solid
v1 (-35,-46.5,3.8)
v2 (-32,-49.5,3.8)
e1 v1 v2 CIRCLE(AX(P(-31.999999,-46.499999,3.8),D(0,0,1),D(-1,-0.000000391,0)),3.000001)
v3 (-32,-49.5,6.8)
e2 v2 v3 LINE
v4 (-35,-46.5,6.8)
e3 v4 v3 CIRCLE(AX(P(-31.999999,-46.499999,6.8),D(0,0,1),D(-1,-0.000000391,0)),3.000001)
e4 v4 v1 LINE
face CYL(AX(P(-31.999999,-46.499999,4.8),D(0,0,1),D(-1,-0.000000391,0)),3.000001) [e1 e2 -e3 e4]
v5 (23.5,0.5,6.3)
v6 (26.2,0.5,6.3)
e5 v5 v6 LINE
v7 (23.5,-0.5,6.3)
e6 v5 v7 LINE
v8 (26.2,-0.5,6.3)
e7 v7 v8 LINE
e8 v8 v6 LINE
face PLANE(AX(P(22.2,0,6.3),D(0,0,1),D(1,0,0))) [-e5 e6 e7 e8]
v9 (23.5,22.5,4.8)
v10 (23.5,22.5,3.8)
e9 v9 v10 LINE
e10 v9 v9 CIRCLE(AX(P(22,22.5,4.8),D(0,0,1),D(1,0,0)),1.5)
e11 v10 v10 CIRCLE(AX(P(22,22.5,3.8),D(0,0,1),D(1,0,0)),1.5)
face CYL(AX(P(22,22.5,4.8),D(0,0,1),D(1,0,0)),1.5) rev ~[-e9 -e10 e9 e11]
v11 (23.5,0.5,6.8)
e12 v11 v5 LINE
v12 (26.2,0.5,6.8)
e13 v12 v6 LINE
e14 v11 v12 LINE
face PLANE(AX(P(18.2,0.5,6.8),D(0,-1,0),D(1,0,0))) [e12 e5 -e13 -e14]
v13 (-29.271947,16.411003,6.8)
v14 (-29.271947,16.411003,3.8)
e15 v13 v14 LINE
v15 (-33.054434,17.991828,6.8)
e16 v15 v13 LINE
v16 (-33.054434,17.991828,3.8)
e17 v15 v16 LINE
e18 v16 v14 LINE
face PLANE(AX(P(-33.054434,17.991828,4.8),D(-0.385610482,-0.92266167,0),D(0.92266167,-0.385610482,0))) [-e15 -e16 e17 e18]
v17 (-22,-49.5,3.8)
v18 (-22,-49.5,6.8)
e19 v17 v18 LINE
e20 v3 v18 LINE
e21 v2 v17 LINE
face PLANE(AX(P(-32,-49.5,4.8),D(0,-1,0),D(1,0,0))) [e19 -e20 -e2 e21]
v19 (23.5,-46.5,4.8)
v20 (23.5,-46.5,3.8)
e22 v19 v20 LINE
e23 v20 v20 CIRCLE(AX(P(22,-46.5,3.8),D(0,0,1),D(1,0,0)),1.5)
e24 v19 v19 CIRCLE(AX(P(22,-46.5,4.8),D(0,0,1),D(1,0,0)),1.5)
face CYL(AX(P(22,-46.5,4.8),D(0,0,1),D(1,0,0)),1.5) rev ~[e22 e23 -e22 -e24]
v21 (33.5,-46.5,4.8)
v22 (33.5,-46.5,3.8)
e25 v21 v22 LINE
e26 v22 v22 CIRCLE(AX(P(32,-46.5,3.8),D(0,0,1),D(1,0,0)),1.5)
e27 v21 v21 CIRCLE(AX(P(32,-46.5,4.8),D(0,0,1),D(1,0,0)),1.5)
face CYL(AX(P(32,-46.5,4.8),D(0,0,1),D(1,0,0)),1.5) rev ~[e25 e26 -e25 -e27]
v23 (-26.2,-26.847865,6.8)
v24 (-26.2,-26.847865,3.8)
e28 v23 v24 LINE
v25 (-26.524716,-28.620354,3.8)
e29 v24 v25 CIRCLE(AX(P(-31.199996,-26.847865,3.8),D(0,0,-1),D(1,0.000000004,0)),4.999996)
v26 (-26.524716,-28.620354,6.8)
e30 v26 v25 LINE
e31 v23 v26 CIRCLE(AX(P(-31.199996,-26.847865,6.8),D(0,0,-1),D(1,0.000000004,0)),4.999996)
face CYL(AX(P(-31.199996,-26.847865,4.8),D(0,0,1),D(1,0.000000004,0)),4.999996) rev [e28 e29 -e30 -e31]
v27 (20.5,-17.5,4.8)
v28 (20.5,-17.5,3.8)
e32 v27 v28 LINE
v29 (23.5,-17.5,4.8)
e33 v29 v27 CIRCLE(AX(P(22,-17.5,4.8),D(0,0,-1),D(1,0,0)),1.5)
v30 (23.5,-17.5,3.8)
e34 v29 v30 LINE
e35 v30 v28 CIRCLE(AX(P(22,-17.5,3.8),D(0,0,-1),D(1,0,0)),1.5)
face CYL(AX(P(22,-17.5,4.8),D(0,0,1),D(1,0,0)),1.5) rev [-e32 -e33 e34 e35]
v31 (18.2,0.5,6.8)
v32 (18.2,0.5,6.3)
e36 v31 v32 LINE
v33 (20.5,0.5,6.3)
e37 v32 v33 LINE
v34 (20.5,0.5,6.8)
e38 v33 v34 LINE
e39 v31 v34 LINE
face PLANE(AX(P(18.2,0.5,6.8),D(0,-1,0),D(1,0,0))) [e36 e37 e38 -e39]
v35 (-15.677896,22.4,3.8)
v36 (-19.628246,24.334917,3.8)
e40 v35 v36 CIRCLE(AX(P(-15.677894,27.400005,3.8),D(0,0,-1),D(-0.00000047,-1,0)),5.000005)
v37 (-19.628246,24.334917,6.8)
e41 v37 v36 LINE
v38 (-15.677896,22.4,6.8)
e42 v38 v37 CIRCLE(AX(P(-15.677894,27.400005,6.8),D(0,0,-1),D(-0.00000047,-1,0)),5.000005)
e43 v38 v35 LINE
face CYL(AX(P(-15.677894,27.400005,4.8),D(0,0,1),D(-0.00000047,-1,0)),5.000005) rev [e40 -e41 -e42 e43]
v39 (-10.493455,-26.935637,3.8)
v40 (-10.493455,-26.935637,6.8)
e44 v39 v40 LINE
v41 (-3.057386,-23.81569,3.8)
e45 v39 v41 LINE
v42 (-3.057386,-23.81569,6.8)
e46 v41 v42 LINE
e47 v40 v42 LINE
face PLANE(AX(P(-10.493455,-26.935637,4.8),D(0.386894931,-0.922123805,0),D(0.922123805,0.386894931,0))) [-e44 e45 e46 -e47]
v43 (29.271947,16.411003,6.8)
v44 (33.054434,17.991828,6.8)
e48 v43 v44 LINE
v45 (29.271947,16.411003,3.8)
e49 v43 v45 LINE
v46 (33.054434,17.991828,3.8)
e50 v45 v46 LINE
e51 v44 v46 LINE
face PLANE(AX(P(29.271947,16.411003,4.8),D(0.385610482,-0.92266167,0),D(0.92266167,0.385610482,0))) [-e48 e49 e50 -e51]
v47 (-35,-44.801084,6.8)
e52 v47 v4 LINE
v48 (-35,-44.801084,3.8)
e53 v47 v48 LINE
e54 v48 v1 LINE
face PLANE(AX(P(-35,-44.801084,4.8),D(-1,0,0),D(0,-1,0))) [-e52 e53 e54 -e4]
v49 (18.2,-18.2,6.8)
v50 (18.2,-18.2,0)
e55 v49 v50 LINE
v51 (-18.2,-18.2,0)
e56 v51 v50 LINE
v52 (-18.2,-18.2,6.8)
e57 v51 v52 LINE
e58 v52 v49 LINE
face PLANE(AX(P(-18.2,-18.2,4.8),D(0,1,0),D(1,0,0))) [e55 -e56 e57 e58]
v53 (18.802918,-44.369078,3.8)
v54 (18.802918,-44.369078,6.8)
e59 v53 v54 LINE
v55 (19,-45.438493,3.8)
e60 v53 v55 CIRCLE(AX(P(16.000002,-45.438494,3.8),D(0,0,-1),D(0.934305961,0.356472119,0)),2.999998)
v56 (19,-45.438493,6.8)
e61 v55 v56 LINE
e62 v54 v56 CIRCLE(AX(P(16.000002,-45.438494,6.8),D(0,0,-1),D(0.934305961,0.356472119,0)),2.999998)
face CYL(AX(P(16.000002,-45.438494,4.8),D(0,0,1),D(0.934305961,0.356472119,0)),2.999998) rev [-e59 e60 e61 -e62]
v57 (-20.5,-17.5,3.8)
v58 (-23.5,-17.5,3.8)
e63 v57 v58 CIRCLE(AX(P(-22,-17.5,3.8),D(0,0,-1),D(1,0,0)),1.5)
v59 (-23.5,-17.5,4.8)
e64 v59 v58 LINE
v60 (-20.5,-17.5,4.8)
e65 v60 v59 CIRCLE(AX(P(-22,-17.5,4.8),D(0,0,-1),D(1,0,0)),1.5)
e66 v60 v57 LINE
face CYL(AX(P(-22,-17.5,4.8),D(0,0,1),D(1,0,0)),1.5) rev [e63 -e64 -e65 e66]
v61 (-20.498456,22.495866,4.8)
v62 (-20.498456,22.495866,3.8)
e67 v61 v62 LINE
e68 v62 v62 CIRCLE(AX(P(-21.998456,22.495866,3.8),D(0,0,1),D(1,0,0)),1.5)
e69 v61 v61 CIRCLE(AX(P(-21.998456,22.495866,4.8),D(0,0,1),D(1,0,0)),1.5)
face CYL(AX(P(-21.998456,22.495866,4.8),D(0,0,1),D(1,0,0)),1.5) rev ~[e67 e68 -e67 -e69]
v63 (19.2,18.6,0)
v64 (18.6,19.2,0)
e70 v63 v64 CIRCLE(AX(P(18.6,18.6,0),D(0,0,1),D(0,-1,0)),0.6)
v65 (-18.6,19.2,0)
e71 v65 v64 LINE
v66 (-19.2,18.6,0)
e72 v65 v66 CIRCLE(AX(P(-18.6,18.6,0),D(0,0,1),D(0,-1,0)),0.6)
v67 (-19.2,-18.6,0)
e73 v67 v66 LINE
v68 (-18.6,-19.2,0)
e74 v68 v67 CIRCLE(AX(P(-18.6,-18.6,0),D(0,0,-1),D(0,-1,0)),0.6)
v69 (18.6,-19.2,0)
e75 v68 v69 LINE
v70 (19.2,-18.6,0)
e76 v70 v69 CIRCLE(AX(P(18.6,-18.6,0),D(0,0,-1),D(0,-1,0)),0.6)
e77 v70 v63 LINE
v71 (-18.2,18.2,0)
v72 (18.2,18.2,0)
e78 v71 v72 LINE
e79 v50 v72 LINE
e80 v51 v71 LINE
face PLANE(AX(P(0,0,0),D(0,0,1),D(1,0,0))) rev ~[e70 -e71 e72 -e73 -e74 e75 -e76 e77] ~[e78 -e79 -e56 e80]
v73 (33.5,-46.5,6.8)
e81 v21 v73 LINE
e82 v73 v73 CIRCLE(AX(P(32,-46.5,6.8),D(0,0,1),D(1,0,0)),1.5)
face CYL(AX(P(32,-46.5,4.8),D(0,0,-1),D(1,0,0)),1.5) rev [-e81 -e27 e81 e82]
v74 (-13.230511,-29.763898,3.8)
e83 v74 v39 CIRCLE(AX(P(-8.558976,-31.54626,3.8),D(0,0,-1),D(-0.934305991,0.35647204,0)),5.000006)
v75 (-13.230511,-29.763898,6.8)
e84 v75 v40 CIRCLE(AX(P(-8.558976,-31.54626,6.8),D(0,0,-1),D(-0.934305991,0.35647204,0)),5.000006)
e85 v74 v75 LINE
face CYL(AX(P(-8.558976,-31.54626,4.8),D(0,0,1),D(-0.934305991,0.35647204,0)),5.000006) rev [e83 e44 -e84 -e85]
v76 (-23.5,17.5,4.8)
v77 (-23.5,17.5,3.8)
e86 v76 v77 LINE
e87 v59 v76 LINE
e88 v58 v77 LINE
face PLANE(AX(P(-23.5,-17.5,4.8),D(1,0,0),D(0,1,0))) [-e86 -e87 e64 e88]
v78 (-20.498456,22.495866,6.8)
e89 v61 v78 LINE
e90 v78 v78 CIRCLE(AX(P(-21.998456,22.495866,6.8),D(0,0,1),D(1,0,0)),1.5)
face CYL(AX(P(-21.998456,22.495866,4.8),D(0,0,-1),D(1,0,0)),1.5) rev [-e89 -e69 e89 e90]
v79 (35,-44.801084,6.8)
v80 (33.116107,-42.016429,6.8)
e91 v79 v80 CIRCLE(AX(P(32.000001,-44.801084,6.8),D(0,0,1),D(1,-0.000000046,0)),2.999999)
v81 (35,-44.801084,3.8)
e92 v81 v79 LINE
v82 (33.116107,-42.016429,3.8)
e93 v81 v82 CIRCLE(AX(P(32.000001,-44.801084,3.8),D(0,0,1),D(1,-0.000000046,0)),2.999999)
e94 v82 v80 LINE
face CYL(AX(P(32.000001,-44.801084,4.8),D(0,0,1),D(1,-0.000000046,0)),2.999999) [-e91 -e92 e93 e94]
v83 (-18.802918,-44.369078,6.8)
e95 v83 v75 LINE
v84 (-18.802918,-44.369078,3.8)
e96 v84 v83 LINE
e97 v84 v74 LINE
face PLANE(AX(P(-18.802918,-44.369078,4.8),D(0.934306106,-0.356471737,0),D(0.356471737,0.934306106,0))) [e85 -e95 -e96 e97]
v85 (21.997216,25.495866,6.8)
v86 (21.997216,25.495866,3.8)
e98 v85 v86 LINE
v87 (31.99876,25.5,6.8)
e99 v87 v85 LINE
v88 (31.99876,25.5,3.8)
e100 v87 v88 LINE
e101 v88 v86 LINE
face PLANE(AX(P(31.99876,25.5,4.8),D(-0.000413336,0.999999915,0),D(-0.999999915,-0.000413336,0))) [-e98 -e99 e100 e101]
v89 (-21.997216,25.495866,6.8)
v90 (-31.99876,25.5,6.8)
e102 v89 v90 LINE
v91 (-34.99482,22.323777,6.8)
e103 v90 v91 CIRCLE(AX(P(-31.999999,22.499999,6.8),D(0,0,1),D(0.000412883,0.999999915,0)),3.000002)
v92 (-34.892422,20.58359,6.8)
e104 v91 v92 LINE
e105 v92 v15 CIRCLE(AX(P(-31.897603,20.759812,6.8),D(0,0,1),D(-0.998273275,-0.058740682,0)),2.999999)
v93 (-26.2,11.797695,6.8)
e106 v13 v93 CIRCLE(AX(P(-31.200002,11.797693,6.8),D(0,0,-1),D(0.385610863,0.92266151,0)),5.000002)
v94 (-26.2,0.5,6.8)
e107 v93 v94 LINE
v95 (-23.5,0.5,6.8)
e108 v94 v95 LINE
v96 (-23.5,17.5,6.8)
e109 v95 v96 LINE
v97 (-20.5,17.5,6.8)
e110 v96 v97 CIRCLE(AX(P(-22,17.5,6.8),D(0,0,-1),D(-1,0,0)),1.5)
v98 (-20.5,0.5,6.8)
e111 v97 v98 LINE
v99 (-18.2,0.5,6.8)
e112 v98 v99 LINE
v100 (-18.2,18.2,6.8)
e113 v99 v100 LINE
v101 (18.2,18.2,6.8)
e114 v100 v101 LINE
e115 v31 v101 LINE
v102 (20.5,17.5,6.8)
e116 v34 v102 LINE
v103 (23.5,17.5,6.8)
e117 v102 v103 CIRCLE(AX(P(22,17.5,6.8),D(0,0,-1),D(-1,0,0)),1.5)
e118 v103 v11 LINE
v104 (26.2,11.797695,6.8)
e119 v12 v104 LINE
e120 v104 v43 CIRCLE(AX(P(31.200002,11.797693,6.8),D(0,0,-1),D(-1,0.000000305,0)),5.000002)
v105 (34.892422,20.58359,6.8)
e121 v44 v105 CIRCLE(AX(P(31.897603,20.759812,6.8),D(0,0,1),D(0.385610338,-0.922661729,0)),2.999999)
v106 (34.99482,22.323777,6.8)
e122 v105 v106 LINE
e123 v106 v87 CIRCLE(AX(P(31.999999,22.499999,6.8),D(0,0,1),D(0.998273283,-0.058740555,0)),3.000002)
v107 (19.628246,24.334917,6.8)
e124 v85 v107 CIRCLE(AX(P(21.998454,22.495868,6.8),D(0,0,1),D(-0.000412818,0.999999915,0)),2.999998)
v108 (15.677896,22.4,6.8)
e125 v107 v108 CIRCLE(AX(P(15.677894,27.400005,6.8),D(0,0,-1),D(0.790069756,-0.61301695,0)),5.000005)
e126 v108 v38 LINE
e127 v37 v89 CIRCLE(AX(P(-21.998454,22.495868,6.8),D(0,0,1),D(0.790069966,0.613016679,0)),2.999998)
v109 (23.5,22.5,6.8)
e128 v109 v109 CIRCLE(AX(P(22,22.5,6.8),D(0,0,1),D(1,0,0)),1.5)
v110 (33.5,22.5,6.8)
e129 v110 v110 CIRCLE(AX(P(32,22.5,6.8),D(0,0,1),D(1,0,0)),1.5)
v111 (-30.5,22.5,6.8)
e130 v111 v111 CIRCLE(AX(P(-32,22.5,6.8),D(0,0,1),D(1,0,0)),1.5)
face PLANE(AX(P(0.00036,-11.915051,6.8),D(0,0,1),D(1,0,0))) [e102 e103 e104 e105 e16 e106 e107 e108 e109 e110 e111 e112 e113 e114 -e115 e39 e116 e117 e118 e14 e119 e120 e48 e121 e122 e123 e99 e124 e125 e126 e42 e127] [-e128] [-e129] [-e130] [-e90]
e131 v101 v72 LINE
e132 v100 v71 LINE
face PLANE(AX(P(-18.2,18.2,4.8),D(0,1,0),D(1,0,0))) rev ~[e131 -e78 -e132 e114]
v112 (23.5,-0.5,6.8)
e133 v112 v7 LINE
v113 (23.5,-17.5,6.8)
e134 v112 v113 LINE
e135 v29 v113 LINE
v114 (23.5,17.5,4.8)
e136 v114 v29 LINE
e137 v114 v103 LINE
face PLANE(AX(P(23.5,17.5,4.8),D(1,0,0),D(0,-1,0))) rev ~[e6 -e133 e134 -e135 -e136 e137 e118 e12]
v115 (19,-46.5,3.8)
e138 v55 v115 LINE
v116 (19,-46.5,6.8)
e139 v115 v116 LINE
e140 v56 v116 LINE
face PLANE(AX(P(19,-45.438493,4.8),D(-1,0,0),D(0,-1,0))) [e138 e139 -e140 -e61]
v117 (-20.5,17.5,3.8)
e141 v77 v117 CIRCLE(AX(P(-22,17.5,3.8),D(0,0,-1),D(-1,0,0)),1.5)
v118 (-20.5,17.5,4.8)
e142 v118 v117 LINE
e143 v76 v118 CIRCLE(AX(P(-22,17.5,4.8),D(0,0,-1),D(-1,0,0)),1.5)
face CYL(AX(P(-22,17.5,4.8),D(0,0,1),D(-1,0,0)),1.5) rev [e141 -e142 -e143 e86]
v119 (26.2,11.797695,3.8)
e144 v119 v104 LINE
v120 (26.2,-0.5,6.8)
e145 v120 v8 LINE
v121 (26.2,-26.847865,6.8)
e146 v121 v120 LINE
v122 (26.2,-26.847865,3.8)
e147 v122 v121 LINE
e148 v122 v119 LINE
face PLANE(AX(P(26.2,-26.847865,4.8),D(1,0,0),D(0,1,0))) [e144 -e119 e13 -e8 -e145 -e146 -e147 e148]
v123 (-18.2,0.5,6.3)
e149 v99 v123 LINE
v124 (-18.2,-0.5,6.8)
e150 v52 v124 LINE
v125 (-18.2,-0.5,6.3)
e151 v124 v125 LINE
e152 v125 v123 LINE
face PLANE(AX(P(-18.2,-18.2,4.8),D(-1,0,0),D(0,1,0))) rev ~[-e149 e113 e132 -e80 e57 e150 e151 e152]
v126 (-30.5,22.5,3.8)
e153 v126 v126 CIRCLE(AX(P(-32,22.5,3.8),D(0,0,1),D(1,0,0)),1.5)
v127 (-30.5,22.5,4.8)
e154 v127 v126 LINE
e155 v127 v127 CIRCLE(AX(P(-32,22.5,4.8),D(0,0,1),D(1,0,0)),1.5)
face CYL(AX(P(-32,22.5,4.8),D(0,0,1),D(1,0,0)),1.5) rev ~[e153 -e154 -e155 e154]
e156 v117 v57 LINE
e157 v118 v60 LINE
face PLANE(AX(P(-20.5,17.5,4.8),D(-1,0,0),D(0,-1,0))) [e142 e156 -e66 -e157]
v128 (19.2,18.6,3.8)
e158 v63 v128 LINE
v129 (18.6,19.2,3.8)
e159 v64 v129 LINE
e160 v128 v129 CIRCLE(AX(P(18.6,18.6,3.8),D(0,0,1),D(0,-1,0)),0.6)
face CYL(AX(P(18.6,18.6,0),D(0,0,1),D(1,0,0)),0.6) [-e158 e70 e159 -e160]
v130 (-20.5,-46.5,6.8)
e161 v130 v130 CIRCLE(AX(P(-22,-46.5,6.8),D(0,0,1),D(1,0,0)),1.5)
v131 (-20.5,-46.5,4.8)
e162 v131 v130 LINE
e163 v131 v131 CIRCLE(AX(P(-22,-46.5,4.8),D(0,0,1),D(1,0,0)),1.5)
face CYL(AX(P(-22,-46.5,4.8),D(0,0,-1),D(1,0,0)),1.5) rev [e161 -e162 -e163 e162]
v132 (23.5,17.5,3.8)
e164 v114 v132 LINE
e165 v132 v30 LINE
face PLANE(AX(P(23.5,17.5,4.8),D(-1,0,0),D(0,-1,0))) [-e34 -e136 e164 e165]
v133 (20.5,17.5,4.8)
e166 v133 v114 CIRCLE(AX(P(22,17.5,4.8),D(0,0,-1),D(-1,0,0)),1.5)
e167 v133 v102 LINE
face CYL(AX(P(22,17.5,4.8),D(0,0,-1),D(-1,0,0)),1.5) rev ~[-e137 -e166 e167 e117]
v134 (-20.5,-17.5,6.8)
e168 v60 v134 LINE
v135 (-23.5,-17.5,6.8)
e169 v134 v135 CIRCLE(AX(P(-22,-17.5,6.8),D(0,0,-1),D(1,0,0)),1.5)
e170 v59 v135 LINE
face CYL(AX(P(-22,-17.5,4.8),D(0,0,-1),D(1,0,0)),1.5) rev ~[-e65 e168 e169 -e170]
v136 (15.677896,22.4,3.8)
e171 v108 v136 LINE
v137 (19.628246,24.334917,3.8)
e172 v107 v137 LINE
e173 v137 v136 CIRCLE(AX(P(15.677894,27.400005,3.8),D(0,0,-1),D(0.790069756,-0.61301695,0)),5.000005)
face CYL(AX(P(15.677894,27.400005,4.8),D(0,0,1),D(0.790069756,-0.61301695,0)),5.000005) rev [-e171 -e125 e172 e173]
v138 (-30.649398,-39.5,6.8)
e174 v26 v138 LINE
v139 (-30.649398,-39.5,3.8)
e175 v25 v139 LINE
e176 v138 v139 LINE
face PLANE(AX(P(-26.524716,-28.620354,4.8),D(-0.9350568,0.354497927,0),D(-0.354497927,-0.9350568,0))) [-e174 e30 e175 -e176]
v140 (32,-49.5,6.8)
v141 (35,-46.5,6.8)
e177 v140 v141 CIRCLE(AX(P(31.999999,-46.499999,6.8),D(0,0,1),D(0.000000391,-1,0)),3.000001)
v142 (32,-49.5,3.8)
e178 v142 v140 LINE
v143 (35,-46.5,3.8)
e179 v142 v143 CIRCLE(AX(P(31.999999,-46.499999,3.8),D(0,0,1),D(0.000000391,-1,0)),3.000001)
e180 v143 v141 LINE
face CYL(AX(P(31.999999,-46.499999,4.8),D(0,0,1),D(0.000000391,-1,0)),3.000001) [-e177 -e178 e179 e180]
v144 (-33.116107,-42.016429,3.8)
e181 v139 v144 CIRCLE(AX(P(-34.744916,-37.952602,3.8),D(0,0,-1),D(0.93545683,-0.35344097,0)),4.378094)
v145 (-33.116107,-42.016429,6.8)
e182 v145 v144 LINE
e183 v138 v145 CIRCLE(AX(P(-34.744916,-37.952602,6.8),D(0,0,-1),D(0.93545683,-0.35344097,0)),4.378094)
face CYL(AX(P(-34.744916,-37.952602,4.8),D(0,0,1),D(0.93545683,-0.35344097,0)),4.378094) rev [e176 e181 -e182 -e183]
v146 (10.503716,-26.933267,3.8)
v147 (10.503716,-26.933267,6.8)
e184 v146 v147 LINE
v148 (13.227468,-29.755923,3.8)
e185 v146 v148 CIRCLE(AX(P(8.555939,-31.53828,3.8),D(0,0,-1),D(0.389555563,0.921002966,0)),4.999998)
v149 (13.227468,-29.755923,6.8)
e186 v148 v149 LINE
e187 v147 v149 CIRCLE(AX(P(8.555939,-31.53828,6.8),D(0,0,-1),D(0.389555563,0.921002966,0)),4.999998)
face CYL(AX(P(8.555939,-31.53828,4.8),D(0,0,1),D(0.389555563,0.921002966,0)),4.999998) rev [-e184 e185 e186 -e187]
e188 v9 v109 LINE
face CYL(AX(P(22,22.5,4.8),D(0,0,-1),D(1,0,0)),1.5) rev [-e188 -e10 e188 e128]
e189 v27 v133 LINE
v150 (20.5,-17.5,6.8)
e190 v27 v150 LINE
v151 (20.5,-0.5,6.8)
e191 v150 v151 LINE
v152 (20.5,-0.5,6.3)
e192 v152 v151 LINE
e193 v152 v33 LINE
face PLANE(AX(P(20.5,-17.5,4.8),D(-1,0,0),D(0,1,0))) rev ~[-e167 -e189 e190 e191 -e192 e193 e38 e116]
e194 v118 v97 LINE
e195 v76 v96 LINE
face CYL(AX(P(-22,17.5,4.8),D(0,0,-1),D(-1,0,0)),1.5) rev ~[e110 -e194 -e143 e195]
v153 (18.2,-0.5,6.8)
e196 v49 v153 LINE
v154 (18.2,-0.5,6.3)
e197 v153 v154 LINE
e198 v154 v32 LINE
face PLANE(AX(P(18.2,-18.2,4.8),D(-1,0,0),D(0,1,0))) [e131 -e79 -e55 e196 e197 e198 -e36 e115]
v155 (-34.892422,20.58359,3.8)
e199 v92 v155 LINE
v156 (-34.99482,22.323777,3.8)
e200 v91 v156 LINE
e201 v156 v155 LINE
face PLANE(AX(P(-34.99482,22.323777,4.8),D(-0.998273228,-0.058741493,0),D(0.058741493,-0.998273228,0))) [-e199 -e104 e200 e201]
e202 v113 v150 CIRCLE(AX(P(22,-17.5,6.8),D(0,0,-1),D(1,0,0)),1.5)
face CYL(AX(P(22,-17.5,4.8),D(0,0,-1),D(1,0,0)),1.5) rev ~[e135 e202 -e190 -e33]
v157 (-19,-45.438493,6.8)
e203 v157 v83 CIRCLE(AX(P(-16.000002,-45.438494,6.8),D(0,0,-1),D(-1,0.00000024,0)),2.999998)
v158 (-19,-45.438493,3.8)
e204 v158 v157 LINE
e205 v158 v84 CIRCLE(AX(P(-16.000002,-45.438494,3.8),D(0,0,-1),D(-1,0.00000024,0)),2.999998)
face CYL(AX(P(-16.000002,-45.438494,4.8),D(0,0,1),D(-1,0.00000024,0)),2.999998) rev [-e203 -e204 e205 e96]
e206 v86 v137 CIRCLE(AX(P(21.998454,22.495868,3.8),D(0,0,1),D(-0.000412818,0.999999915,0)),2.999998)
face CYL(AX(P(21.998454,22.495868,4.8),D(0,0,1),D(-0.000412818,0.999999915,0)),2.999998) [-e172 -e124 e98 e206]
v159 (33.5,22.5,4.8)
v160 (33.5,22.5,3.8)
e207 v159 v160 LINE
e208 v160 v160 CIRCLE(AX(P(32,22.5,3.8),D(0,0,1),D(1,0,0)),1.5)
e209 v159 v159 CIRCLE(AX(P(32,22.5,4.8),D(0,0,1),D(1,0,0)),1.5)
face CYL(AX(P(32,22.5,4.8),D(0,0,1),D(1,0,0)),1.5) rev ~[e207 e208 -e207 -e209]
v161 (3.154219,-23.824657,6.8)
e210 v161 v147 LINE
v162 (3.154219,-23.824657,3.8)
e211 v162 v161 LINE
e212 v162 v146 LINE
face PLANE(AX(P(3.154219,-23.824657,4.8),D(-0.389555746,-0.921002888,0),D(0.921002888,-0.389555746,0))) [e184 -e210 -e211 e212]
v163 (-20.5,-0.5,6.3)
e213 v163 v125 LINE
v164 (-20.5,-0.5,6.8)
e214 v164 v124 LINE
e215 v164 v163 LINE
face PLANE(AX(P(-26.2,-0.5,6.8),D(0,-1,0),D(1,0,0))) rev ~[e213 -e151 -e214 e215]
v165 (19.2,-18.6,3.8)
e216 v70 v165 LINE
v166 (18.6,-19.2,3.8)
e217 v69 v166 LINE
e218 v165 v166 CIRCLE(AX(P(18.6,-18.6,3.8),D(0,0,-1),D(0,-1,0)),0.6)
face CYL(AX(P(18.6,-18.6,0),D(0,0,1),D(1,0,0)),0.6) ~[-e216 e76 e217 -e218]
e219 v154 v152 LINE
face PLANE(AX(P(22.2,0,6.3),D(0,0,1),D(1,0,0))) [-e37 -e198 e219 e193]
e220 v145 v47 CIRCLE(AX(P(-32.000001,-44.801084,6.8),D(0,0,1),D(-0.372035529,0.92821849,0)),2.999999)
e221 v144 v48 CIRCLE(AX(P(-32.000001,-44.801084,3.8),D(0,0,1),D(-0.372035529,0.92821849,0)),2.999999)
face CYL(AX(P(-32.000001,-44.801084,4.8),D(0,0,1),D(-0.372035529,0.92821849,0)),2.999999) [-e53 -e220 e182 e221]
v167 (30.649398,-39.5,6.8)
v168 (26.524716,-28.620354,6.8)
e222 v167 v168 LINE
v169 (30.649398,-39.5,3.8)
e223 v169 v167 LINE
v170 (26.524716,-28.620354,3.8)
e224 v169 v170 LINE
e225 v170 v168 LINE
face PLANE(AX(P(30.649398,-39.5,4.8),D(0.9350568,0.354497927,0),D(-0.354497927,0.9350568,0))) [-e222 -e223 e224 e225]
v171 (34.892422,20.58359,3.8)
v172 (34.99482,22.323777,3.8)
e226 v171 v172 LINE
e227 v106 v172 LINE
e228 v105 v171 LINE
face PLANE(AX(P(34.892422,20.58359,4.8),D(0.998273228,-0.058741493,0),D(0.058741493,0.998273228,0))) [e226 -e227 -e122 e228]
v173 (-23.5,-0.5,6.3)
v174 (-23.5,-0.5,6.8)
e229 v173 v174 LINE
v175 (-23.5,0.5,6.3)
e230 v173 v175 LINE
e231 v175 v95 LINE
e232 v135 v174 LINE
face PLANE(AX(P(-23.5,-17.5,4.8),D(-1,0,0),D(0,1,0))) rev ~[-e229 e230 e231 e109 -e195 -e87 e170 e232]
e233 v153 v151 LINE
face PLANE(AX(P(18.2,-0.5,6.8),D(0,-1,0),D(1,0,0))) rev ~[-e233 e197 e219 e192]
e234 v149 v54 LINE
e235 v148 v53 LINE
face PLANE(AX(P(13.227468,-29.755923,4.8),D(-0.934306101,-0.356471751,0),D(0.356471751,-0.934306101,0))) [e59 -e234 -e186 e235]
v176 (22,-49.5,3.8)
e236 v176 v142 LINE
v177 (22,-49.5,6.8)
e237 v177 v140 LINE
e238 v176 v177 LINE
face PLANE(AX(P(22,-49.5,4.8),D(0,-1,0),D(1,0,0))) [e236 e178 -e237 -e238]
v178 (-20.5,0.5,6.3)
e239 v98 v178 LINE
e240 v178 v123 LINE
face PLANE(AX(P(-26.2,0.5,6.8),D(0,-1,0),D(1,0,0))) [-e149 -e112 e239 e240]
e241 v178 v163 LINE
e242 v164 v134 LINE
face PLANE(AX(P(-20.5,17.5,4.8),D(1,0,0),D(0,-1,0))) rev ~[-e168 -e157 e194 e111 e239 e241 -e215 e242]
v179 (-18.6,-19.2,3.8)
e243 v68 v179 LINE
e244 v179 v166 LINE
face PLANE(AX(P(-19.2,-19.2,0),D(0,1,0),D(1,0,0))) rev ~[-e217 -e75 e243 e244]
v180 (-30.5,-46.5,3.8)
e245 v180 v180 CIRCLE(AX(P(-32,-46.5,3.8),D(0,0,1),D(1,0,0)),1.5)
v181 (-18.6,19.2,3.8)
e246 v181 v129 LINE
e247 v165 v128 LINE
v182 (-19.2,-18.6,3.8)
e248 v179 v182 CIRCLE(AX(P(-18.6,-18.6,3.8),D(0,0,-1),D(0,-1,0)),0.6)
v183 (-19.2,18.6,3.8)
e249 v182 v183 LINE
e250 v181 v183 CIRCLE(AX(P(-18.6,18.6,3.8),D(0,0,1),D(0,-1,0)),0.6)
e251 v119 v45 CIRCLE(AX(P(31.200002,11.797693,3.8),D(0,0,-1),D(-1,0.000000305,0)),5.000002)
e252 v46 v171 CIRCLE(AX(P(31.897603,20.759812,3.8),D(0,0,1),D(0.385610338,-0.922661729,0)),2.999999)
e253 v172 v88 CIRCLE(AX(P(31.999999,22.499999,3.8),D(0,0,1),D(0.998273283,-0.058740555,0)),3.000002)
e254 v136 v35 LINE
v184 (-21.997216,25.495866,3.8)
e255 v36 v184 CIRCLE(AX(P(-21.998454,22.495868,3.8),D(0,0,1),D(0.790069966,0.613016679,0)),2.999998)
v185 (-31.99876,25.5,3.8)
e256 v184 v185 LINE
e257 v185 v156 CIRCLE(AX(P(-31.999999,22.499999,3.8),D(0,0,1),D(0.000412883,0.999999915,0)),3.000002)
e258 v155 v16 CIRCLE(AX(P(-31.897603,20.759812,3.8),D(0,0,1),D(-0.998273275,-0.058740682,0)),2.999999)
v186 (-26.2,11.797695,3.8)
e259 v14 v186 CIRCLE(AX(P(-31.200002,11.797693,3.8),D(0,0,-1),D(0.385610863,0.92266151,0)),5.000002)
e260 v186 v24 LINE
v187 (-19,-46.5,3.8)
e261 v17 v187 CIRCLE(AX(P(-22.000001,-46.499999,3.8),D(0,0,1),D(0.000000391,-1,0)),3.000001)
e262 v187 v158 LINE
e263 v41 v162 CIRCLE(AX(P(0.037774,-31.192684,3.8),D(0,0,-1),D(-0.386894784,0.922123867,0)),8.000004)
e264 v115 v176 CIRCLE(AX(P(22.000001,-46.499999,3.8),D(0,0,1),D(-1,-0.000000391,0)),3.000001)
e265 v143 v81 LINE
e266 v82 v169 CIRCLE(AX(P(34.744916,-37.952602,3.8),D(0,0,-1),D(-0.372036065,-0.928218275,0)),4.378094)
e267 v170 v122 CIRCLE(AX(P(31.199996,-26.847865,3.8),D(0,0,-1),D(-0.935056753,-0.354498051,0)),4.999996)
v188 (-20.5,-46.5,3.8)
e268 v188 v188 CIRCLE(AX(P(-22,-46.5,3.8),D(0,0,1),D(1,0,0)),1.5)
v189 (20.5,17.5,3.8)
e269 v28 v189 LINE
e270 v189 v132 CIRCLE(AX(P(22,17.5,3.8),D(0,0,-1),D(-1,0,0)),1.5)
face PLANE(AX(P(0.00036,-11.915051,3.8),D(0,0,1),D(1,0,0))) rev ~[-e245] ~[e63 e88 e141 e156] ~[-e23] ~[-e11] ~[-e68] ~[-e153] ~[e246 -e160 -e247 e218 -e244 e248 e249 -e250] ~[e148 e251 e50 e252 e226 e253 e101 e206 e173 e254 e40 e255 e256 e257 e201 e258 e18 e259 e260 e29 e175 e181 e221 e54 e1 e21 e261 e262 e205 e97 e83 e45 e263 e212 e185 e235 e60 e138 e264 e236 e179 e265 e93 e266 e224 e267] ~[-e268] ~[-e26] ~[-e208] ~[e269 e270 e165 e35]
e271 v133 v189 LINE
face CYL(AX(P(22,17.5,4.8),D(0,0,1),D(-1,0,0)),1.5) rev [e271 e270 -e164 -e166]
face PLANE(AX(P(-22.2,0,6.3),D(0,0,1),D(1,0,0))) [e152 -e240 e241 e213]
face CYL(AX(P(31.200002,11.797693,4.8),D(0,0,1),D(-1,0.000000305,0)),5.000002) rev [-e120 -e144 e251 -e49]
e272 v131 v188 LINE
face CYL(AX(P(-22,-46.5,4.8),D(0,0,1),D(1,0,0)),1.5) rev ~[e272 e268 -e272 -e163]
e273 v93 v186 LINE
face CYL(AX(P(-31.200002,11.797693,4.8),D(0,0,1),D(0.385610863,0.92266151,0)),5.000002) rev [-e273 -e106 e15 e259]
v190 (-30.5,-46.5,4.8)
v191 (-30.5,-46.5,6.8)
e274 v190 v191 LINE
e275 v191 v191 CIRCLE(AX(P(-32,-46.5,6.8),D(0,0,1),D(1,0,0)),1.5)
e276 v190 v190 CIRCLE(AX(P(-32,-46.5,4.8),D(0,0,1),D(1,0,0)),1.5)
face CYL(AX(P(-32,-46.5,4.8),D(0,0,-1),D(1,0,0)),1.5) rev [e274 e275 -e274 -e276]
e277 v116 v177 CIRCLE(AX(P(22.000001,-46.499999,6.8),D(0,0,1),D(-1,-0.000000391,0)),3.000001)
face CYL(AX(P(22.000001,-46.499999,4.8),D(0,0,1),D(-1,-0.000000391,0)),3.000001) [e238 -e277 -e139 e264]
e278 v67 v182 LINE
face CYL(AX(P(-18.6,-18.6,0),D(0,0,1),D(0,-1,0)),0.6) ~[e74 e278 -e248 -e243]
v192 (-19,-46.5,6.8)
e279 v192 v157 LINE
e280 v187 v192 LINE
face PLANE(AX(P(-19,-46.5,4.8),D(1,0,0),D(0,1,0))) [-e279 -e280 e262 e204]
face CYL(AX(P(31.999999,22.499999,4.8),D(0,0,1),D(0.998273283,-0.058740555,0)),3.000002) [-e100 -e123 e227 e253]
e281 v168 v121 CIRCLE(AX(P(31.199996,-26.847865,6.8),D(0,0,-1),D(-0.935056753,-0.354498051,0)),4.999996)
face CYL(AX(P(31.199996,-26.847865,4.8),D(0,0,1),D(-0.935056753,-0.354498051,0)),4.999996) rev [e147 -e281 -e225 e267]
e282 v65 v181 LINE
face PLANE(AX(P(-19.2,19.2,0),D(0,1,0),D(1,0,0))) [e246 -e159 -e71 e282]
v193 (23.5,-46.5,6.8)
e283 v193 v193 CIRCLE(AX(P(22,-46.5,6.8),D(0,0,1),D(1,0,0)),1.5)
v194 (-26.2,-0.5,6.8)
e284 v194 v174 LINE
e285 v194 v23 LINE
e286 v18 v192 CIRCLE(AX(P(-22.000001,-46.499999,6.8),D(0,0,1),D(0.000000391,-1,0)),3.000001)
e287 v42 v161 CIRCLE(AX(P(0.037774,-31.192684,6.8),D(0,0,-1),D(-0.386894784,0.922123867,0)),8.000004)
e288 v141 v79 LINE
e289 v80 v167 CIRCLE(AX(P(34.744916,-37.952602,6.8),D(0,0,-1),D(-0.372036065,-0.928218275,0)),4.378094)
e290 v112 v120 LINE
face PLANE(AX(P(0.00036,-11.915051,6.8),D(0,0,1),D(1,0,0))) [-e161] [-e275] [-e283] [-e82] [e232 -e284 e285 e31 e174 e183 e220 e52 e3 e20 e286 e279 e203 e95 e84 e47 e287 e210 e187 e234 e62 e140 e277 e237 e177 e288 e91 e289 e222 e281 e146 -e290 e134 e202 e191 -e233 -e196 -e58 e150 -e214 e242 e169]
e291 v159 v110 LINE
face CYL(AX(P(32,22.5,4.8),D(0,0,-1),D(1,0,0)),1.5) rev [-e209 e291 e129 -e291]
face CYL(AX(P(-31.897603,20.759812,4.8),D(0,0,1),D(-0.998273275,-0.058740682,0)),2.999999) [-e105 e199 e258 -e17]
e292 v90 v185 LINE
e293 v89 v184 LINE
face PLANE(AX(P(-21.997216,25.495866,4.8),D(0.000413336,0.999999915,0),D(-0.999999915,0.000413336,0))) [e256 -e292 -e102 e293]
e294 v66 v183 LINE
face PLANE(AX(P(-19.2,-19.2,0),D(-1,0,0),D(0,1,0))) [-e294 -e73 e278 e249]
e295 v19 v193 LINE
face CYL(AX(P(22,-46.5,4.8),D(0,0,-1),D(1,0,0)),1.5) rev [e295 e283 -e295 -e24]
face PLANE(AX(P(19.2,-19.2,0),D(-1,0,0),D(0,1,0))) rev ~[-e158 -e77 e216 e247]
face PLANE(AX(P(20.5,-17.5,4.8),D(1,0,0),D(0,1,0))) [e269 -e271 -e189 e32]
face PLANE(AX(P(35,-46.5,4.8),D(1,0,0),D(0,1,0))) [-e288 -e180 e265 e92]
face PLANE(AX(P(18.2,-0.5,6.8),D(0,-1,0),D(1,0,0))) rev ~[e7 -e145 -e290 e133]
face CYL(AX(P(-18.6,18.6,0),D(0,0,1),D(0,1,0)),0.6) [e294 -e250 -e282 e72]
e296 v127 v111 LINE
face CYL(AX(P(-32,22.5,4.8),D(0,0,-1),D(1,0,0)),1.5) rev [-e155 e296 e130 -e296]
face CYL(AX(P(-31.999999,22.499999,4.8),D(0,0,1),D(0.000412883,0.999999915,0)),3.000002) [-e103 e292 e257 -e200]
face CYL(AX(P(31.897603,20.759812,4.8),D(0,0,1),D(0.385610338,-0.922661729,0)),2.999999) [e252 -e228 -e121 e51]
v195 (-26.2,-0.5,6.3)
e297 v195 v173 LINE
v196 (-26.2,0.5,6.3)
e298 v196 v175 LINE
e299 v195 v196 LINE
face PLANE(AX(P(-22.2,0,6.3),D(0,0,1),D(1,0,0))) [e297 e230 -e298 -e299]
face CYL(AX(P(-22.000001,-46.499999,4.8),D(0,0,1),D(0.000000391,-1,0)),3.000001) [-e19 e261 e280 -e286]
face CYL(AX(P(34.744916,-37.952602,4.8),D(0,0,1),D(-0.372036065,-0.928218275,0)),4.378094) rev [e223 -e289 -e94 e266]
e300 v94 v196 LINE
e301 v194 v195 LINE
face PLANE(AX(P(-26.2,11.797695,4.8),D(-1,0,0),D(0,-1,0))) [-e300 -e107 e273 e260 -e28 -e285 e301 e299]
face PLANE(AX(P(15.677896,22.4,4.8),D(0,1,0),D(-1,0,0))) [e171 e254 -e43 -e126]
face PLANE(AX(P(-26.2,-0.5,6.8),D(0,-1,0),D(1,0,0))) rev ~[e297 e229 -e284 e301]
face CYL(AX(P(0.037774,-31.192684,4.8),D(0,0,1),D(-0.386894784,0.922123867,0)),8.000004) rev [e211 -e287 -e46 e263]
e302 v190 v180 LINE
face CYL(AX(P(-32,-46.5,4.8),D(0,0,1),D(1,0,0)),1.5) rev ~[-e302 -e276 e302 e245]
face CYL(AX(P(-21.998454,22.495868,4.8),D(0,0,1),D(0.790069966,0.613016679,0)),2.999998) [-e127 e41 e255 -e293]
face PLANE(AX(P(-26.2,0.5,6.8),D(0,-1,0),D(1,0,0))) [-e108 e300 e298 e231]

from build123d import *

# Parameters (mm, degrees)
F1_W          = 38.4
F1_H          = 38.4
F1_W_2        = 36.4
F1_H_2        = 36.4
F2_DEPTH      = 4.8
F3_R          = 1.5
F3_W          = 38.4
F3_H          = 38.4
F3_W_2        = 36.4
F3_H_2        = 36.4
F4_DEPTH      = 2
F4_DEPTH_BACK = 1
F5_R          = 0.6
F6_W          = 8
F6_H          = 1
F7_DEPTH      = 0.5


with BuildPart() as f2:
    # F1 (on Top) → F2 (new body)
    with BuildSketch(Plane.XY):
        Rectangle(F1_W, F1_H)
        Rectangle(F1_W_2, F1_H_2, mode=Mode.SUBTRACT)
    extrude(amount=F2_DEPTH)

    # F3 (on face) → F4 (join, two sides)
    with BuildSketch(Plane.XY.offset(4.8)) as f4_sk:
        with BuildLine():
            ThreePointArc((-35, -46.5), (-34.12132, -48.62132), (-32, -49.5))
            Line((-32, -49.5), (-22, -49.5))
            ThreePointArc((-22, -49.5), (-19.87868, -48.62132), (-19, -46.5))
            Line((-19, -46.5), (-19, -45.438493))
            ThreePointArc((-19, -45.438493), (-18.950318, -44.894781), (-18.802918, -44.369078))
            Line((-18.802918, -44.369078), (-13.230511, -29.763898))
            ThreePointArc((-13.230511, -29.763898), (-12.151972, -28.06913), (-10.493455, -26.935637))
            Line((-10.493455, -26.935637), (-3.057386, -23.81569))
            ThreePointArc((-3.057386, -23.81569), (0.049323, -23.192689), (3.154219, -23.824657))
            Line((3.154219, -23.824657), (10.503716, -26.933267))
            ThreePointArc((10.503716, -26.933267), (12.153945, -28.066345), (13.227468, -29.755923))
            Line((13.227468, -29.755923), (18.802918, -44.369078))
            ThreePointArc((18.802918, -44.369078), (18.950318, -44.894781), (19, -45.438493))
            Line((19, -45.438493), (19, -46.5))
            ThreePointArc((19, -46.5), (19.87868, -48.62132), (22, -49.5))
            Line((22, -49.5), (32, -49.5))
            ThreePointArc((32, -49.5), (34.12132, -48.62132), (35, -46.5))
            Line((35, -46.5), (35, -44.801084))
            ThreePointArc((35, -44.801084), (34.484786, -43.120061), (33.116107, -42.016429))
            ThreePointArc((33.116107, -42.016429), (31.618403, -41.017341), (30.649398, -39.5))
            Line((30.649398, -39.5), (26.524716, -28.620354))
            ThreePointArc((26.524716, -28.620354), (26.281849, -27.748859), (26.2, -26.847865))
            Line((26.2, -26.847865), (26.2, 11.797695))
            ThreePointArc((26.2, 11.797695), (27.038254, 14.568952), (29.271947, 16.411003))
            Line((29.271947, 16.411003), (33.054434, 17.991828))
            ThreePointArc((33.054434, 17.991828), (34.344715, 19.024405), (34.892422, 20.58359))
            Line((34.892422, 20.58359), (34.99482, 22.323777))
            ThreePointArc((34.99482, 22.323777), (34.18231, 24.558524), (31.99876, 25.5))
            Line((31.99876, 25.5), (21.997216, 25.495866))
            ThreePointArc((21.997216, 25.495866), (20.678268, 25.189768), (19.628246, 24.334917))
            ThreePointArc((19.628246, 24.334917), (17.87728, 22.90971), (15.677896, 22.4))
            Line((15.677896, 22.4), (-15.677896, 22.4))
            ThreePointArc((-15.677896, 22.4), (-17.87728, 22.90971), (-19.628246, 24.334917))
            ThreePointArc((-19.628246, 24.334917), (-20.678268, 25.189768), (-21.997216, 25.495866))
            Line((-21.997216, 25.495866), (-31.99876, 25.5))
            ThreePointArc((-31.99876, 25.5), (-34.18231, 24.558524), (-34.99482, 22.323777))
            Line((-34.99482, 22.323777), (-34.892422, 20.58359))
            ThreePointArc((-34.892422, 20.58359), (-34.344715, 19.024405), (-33.054434, 17.991828))
            Line((-33.054434, 17.991828), (-29.271947, 16.411003))
            ThreePointArc((-29.271947, 16.411003), (-27.038254, 14.568952), (-26.2, 11.797695))
            Line((-26.2, 11.797695), (-26.2, -26.847865))
            ThreePointArc((-26.2, -26.847865), (-26.281849, -27.748859), (-26.524716, -28.620354))
            Line((-26.524716, -28.620354), (-30.649398, -39.5))
            ThreePointArc((-30.649398, -39.5), (-31.618403, -41.017341), (-33.116107, -42.016429))
            ThreePointArc((-33.116107, -42.016429), (-34.484786, -43.120061), (-35, -44.801084))
            Line((-35, -44.801084), (-35, -46.5))
        make_face()
        with Locations((-32, -46.5)):
            Circle(F3_R, mode=Mode.SUBTRACT)
        with Locations((-22, -46.5)):
            Circle(F3_R, mode=Mode.SUBTRACT)
        with Locations((22, -46.5)):
            Circle(F3_R, mode=Mode.SUBTRACT)
        with Locations((32, -46.5)):
            Circle(F3_R, mode=Mode.SUBTRACT)
        with BuildLine():
            ThreePointArc((-20.5, -17.5), (-22, -19), (-23.5, -17.5))
            Line((-23.5, -17.5), (-23.5, 17.5))
            ThreePointArc((-23.5, 17.5), (-22, 19), (-20.5, 17.5))
            Line((-20.5, 17.5), (-20.5, -17.5))
        make_face(mode=Mode.SUBTRACT)
        with Locations((-32, 22.5)):
            Circle(F3_R, mode=Mode.SUBTRACT)
        with Locations((-21.998456, 22.495866)):
            Circle(F3_R, mode=Mode.SUBTRACT)
        Rectangle(F3_W, F3_H, mode=Mode.SUBTRACT)
        with BuildLine():
            ThreePointArc((20.5, 17.5), (22, 19), (23.5, 17.5))
            Line((23.5, 17.5), (23.5, -17.5))
            ThreePointArc((23.5, -17.5), (22, -19), (20.5, -17.5))
            Line((20.5, -17.5), (20.5, 17.5))
        make_face(mode=Mode.SUBTRACT)
        with Locations((22, 22.5)):
            Circle(F3_R, mode=Mode.SUBTRACT)
        with Locations((32, 22.5)):
            Circle(F3_R, mode=Mode.SUBTRACT)
        Rectangle(F3_W, F3_H)
        Rectangle(F3_W_2, F3_H_2, mode=Mode.SUBTRACT)
    extrude(amount=F4_DEPTH)
    extrude(f4_sk.sketch, amount=-F4_DEPTH_BACK)

    # F5
    f5_edges = [f2.edges().sort_by_distance(p)[0] for p in [
        (-19.2, -19.2, 1.9),
        (19.2, -19.2, 1.9),
        (19.2, 19.2, 1.9),
        (-19.2, 19.2, 1.9),
    ]]
    fillet(f5_edges, radius=F5_R)

    # F6 (on face) → F7 (cut)
    with BuildSketch(Plane.XY.offset(6.8)):
        with Locations((-22.2, 0)):
            Rectangle(F6_W, F6_H)
        with Locations((22.2, 0)):
            Rectangle(F6_W, F6_H)
    extrude(amount=-F7_DEPTH, mode=Mode.SUBTRACT)


solid = f2.part
